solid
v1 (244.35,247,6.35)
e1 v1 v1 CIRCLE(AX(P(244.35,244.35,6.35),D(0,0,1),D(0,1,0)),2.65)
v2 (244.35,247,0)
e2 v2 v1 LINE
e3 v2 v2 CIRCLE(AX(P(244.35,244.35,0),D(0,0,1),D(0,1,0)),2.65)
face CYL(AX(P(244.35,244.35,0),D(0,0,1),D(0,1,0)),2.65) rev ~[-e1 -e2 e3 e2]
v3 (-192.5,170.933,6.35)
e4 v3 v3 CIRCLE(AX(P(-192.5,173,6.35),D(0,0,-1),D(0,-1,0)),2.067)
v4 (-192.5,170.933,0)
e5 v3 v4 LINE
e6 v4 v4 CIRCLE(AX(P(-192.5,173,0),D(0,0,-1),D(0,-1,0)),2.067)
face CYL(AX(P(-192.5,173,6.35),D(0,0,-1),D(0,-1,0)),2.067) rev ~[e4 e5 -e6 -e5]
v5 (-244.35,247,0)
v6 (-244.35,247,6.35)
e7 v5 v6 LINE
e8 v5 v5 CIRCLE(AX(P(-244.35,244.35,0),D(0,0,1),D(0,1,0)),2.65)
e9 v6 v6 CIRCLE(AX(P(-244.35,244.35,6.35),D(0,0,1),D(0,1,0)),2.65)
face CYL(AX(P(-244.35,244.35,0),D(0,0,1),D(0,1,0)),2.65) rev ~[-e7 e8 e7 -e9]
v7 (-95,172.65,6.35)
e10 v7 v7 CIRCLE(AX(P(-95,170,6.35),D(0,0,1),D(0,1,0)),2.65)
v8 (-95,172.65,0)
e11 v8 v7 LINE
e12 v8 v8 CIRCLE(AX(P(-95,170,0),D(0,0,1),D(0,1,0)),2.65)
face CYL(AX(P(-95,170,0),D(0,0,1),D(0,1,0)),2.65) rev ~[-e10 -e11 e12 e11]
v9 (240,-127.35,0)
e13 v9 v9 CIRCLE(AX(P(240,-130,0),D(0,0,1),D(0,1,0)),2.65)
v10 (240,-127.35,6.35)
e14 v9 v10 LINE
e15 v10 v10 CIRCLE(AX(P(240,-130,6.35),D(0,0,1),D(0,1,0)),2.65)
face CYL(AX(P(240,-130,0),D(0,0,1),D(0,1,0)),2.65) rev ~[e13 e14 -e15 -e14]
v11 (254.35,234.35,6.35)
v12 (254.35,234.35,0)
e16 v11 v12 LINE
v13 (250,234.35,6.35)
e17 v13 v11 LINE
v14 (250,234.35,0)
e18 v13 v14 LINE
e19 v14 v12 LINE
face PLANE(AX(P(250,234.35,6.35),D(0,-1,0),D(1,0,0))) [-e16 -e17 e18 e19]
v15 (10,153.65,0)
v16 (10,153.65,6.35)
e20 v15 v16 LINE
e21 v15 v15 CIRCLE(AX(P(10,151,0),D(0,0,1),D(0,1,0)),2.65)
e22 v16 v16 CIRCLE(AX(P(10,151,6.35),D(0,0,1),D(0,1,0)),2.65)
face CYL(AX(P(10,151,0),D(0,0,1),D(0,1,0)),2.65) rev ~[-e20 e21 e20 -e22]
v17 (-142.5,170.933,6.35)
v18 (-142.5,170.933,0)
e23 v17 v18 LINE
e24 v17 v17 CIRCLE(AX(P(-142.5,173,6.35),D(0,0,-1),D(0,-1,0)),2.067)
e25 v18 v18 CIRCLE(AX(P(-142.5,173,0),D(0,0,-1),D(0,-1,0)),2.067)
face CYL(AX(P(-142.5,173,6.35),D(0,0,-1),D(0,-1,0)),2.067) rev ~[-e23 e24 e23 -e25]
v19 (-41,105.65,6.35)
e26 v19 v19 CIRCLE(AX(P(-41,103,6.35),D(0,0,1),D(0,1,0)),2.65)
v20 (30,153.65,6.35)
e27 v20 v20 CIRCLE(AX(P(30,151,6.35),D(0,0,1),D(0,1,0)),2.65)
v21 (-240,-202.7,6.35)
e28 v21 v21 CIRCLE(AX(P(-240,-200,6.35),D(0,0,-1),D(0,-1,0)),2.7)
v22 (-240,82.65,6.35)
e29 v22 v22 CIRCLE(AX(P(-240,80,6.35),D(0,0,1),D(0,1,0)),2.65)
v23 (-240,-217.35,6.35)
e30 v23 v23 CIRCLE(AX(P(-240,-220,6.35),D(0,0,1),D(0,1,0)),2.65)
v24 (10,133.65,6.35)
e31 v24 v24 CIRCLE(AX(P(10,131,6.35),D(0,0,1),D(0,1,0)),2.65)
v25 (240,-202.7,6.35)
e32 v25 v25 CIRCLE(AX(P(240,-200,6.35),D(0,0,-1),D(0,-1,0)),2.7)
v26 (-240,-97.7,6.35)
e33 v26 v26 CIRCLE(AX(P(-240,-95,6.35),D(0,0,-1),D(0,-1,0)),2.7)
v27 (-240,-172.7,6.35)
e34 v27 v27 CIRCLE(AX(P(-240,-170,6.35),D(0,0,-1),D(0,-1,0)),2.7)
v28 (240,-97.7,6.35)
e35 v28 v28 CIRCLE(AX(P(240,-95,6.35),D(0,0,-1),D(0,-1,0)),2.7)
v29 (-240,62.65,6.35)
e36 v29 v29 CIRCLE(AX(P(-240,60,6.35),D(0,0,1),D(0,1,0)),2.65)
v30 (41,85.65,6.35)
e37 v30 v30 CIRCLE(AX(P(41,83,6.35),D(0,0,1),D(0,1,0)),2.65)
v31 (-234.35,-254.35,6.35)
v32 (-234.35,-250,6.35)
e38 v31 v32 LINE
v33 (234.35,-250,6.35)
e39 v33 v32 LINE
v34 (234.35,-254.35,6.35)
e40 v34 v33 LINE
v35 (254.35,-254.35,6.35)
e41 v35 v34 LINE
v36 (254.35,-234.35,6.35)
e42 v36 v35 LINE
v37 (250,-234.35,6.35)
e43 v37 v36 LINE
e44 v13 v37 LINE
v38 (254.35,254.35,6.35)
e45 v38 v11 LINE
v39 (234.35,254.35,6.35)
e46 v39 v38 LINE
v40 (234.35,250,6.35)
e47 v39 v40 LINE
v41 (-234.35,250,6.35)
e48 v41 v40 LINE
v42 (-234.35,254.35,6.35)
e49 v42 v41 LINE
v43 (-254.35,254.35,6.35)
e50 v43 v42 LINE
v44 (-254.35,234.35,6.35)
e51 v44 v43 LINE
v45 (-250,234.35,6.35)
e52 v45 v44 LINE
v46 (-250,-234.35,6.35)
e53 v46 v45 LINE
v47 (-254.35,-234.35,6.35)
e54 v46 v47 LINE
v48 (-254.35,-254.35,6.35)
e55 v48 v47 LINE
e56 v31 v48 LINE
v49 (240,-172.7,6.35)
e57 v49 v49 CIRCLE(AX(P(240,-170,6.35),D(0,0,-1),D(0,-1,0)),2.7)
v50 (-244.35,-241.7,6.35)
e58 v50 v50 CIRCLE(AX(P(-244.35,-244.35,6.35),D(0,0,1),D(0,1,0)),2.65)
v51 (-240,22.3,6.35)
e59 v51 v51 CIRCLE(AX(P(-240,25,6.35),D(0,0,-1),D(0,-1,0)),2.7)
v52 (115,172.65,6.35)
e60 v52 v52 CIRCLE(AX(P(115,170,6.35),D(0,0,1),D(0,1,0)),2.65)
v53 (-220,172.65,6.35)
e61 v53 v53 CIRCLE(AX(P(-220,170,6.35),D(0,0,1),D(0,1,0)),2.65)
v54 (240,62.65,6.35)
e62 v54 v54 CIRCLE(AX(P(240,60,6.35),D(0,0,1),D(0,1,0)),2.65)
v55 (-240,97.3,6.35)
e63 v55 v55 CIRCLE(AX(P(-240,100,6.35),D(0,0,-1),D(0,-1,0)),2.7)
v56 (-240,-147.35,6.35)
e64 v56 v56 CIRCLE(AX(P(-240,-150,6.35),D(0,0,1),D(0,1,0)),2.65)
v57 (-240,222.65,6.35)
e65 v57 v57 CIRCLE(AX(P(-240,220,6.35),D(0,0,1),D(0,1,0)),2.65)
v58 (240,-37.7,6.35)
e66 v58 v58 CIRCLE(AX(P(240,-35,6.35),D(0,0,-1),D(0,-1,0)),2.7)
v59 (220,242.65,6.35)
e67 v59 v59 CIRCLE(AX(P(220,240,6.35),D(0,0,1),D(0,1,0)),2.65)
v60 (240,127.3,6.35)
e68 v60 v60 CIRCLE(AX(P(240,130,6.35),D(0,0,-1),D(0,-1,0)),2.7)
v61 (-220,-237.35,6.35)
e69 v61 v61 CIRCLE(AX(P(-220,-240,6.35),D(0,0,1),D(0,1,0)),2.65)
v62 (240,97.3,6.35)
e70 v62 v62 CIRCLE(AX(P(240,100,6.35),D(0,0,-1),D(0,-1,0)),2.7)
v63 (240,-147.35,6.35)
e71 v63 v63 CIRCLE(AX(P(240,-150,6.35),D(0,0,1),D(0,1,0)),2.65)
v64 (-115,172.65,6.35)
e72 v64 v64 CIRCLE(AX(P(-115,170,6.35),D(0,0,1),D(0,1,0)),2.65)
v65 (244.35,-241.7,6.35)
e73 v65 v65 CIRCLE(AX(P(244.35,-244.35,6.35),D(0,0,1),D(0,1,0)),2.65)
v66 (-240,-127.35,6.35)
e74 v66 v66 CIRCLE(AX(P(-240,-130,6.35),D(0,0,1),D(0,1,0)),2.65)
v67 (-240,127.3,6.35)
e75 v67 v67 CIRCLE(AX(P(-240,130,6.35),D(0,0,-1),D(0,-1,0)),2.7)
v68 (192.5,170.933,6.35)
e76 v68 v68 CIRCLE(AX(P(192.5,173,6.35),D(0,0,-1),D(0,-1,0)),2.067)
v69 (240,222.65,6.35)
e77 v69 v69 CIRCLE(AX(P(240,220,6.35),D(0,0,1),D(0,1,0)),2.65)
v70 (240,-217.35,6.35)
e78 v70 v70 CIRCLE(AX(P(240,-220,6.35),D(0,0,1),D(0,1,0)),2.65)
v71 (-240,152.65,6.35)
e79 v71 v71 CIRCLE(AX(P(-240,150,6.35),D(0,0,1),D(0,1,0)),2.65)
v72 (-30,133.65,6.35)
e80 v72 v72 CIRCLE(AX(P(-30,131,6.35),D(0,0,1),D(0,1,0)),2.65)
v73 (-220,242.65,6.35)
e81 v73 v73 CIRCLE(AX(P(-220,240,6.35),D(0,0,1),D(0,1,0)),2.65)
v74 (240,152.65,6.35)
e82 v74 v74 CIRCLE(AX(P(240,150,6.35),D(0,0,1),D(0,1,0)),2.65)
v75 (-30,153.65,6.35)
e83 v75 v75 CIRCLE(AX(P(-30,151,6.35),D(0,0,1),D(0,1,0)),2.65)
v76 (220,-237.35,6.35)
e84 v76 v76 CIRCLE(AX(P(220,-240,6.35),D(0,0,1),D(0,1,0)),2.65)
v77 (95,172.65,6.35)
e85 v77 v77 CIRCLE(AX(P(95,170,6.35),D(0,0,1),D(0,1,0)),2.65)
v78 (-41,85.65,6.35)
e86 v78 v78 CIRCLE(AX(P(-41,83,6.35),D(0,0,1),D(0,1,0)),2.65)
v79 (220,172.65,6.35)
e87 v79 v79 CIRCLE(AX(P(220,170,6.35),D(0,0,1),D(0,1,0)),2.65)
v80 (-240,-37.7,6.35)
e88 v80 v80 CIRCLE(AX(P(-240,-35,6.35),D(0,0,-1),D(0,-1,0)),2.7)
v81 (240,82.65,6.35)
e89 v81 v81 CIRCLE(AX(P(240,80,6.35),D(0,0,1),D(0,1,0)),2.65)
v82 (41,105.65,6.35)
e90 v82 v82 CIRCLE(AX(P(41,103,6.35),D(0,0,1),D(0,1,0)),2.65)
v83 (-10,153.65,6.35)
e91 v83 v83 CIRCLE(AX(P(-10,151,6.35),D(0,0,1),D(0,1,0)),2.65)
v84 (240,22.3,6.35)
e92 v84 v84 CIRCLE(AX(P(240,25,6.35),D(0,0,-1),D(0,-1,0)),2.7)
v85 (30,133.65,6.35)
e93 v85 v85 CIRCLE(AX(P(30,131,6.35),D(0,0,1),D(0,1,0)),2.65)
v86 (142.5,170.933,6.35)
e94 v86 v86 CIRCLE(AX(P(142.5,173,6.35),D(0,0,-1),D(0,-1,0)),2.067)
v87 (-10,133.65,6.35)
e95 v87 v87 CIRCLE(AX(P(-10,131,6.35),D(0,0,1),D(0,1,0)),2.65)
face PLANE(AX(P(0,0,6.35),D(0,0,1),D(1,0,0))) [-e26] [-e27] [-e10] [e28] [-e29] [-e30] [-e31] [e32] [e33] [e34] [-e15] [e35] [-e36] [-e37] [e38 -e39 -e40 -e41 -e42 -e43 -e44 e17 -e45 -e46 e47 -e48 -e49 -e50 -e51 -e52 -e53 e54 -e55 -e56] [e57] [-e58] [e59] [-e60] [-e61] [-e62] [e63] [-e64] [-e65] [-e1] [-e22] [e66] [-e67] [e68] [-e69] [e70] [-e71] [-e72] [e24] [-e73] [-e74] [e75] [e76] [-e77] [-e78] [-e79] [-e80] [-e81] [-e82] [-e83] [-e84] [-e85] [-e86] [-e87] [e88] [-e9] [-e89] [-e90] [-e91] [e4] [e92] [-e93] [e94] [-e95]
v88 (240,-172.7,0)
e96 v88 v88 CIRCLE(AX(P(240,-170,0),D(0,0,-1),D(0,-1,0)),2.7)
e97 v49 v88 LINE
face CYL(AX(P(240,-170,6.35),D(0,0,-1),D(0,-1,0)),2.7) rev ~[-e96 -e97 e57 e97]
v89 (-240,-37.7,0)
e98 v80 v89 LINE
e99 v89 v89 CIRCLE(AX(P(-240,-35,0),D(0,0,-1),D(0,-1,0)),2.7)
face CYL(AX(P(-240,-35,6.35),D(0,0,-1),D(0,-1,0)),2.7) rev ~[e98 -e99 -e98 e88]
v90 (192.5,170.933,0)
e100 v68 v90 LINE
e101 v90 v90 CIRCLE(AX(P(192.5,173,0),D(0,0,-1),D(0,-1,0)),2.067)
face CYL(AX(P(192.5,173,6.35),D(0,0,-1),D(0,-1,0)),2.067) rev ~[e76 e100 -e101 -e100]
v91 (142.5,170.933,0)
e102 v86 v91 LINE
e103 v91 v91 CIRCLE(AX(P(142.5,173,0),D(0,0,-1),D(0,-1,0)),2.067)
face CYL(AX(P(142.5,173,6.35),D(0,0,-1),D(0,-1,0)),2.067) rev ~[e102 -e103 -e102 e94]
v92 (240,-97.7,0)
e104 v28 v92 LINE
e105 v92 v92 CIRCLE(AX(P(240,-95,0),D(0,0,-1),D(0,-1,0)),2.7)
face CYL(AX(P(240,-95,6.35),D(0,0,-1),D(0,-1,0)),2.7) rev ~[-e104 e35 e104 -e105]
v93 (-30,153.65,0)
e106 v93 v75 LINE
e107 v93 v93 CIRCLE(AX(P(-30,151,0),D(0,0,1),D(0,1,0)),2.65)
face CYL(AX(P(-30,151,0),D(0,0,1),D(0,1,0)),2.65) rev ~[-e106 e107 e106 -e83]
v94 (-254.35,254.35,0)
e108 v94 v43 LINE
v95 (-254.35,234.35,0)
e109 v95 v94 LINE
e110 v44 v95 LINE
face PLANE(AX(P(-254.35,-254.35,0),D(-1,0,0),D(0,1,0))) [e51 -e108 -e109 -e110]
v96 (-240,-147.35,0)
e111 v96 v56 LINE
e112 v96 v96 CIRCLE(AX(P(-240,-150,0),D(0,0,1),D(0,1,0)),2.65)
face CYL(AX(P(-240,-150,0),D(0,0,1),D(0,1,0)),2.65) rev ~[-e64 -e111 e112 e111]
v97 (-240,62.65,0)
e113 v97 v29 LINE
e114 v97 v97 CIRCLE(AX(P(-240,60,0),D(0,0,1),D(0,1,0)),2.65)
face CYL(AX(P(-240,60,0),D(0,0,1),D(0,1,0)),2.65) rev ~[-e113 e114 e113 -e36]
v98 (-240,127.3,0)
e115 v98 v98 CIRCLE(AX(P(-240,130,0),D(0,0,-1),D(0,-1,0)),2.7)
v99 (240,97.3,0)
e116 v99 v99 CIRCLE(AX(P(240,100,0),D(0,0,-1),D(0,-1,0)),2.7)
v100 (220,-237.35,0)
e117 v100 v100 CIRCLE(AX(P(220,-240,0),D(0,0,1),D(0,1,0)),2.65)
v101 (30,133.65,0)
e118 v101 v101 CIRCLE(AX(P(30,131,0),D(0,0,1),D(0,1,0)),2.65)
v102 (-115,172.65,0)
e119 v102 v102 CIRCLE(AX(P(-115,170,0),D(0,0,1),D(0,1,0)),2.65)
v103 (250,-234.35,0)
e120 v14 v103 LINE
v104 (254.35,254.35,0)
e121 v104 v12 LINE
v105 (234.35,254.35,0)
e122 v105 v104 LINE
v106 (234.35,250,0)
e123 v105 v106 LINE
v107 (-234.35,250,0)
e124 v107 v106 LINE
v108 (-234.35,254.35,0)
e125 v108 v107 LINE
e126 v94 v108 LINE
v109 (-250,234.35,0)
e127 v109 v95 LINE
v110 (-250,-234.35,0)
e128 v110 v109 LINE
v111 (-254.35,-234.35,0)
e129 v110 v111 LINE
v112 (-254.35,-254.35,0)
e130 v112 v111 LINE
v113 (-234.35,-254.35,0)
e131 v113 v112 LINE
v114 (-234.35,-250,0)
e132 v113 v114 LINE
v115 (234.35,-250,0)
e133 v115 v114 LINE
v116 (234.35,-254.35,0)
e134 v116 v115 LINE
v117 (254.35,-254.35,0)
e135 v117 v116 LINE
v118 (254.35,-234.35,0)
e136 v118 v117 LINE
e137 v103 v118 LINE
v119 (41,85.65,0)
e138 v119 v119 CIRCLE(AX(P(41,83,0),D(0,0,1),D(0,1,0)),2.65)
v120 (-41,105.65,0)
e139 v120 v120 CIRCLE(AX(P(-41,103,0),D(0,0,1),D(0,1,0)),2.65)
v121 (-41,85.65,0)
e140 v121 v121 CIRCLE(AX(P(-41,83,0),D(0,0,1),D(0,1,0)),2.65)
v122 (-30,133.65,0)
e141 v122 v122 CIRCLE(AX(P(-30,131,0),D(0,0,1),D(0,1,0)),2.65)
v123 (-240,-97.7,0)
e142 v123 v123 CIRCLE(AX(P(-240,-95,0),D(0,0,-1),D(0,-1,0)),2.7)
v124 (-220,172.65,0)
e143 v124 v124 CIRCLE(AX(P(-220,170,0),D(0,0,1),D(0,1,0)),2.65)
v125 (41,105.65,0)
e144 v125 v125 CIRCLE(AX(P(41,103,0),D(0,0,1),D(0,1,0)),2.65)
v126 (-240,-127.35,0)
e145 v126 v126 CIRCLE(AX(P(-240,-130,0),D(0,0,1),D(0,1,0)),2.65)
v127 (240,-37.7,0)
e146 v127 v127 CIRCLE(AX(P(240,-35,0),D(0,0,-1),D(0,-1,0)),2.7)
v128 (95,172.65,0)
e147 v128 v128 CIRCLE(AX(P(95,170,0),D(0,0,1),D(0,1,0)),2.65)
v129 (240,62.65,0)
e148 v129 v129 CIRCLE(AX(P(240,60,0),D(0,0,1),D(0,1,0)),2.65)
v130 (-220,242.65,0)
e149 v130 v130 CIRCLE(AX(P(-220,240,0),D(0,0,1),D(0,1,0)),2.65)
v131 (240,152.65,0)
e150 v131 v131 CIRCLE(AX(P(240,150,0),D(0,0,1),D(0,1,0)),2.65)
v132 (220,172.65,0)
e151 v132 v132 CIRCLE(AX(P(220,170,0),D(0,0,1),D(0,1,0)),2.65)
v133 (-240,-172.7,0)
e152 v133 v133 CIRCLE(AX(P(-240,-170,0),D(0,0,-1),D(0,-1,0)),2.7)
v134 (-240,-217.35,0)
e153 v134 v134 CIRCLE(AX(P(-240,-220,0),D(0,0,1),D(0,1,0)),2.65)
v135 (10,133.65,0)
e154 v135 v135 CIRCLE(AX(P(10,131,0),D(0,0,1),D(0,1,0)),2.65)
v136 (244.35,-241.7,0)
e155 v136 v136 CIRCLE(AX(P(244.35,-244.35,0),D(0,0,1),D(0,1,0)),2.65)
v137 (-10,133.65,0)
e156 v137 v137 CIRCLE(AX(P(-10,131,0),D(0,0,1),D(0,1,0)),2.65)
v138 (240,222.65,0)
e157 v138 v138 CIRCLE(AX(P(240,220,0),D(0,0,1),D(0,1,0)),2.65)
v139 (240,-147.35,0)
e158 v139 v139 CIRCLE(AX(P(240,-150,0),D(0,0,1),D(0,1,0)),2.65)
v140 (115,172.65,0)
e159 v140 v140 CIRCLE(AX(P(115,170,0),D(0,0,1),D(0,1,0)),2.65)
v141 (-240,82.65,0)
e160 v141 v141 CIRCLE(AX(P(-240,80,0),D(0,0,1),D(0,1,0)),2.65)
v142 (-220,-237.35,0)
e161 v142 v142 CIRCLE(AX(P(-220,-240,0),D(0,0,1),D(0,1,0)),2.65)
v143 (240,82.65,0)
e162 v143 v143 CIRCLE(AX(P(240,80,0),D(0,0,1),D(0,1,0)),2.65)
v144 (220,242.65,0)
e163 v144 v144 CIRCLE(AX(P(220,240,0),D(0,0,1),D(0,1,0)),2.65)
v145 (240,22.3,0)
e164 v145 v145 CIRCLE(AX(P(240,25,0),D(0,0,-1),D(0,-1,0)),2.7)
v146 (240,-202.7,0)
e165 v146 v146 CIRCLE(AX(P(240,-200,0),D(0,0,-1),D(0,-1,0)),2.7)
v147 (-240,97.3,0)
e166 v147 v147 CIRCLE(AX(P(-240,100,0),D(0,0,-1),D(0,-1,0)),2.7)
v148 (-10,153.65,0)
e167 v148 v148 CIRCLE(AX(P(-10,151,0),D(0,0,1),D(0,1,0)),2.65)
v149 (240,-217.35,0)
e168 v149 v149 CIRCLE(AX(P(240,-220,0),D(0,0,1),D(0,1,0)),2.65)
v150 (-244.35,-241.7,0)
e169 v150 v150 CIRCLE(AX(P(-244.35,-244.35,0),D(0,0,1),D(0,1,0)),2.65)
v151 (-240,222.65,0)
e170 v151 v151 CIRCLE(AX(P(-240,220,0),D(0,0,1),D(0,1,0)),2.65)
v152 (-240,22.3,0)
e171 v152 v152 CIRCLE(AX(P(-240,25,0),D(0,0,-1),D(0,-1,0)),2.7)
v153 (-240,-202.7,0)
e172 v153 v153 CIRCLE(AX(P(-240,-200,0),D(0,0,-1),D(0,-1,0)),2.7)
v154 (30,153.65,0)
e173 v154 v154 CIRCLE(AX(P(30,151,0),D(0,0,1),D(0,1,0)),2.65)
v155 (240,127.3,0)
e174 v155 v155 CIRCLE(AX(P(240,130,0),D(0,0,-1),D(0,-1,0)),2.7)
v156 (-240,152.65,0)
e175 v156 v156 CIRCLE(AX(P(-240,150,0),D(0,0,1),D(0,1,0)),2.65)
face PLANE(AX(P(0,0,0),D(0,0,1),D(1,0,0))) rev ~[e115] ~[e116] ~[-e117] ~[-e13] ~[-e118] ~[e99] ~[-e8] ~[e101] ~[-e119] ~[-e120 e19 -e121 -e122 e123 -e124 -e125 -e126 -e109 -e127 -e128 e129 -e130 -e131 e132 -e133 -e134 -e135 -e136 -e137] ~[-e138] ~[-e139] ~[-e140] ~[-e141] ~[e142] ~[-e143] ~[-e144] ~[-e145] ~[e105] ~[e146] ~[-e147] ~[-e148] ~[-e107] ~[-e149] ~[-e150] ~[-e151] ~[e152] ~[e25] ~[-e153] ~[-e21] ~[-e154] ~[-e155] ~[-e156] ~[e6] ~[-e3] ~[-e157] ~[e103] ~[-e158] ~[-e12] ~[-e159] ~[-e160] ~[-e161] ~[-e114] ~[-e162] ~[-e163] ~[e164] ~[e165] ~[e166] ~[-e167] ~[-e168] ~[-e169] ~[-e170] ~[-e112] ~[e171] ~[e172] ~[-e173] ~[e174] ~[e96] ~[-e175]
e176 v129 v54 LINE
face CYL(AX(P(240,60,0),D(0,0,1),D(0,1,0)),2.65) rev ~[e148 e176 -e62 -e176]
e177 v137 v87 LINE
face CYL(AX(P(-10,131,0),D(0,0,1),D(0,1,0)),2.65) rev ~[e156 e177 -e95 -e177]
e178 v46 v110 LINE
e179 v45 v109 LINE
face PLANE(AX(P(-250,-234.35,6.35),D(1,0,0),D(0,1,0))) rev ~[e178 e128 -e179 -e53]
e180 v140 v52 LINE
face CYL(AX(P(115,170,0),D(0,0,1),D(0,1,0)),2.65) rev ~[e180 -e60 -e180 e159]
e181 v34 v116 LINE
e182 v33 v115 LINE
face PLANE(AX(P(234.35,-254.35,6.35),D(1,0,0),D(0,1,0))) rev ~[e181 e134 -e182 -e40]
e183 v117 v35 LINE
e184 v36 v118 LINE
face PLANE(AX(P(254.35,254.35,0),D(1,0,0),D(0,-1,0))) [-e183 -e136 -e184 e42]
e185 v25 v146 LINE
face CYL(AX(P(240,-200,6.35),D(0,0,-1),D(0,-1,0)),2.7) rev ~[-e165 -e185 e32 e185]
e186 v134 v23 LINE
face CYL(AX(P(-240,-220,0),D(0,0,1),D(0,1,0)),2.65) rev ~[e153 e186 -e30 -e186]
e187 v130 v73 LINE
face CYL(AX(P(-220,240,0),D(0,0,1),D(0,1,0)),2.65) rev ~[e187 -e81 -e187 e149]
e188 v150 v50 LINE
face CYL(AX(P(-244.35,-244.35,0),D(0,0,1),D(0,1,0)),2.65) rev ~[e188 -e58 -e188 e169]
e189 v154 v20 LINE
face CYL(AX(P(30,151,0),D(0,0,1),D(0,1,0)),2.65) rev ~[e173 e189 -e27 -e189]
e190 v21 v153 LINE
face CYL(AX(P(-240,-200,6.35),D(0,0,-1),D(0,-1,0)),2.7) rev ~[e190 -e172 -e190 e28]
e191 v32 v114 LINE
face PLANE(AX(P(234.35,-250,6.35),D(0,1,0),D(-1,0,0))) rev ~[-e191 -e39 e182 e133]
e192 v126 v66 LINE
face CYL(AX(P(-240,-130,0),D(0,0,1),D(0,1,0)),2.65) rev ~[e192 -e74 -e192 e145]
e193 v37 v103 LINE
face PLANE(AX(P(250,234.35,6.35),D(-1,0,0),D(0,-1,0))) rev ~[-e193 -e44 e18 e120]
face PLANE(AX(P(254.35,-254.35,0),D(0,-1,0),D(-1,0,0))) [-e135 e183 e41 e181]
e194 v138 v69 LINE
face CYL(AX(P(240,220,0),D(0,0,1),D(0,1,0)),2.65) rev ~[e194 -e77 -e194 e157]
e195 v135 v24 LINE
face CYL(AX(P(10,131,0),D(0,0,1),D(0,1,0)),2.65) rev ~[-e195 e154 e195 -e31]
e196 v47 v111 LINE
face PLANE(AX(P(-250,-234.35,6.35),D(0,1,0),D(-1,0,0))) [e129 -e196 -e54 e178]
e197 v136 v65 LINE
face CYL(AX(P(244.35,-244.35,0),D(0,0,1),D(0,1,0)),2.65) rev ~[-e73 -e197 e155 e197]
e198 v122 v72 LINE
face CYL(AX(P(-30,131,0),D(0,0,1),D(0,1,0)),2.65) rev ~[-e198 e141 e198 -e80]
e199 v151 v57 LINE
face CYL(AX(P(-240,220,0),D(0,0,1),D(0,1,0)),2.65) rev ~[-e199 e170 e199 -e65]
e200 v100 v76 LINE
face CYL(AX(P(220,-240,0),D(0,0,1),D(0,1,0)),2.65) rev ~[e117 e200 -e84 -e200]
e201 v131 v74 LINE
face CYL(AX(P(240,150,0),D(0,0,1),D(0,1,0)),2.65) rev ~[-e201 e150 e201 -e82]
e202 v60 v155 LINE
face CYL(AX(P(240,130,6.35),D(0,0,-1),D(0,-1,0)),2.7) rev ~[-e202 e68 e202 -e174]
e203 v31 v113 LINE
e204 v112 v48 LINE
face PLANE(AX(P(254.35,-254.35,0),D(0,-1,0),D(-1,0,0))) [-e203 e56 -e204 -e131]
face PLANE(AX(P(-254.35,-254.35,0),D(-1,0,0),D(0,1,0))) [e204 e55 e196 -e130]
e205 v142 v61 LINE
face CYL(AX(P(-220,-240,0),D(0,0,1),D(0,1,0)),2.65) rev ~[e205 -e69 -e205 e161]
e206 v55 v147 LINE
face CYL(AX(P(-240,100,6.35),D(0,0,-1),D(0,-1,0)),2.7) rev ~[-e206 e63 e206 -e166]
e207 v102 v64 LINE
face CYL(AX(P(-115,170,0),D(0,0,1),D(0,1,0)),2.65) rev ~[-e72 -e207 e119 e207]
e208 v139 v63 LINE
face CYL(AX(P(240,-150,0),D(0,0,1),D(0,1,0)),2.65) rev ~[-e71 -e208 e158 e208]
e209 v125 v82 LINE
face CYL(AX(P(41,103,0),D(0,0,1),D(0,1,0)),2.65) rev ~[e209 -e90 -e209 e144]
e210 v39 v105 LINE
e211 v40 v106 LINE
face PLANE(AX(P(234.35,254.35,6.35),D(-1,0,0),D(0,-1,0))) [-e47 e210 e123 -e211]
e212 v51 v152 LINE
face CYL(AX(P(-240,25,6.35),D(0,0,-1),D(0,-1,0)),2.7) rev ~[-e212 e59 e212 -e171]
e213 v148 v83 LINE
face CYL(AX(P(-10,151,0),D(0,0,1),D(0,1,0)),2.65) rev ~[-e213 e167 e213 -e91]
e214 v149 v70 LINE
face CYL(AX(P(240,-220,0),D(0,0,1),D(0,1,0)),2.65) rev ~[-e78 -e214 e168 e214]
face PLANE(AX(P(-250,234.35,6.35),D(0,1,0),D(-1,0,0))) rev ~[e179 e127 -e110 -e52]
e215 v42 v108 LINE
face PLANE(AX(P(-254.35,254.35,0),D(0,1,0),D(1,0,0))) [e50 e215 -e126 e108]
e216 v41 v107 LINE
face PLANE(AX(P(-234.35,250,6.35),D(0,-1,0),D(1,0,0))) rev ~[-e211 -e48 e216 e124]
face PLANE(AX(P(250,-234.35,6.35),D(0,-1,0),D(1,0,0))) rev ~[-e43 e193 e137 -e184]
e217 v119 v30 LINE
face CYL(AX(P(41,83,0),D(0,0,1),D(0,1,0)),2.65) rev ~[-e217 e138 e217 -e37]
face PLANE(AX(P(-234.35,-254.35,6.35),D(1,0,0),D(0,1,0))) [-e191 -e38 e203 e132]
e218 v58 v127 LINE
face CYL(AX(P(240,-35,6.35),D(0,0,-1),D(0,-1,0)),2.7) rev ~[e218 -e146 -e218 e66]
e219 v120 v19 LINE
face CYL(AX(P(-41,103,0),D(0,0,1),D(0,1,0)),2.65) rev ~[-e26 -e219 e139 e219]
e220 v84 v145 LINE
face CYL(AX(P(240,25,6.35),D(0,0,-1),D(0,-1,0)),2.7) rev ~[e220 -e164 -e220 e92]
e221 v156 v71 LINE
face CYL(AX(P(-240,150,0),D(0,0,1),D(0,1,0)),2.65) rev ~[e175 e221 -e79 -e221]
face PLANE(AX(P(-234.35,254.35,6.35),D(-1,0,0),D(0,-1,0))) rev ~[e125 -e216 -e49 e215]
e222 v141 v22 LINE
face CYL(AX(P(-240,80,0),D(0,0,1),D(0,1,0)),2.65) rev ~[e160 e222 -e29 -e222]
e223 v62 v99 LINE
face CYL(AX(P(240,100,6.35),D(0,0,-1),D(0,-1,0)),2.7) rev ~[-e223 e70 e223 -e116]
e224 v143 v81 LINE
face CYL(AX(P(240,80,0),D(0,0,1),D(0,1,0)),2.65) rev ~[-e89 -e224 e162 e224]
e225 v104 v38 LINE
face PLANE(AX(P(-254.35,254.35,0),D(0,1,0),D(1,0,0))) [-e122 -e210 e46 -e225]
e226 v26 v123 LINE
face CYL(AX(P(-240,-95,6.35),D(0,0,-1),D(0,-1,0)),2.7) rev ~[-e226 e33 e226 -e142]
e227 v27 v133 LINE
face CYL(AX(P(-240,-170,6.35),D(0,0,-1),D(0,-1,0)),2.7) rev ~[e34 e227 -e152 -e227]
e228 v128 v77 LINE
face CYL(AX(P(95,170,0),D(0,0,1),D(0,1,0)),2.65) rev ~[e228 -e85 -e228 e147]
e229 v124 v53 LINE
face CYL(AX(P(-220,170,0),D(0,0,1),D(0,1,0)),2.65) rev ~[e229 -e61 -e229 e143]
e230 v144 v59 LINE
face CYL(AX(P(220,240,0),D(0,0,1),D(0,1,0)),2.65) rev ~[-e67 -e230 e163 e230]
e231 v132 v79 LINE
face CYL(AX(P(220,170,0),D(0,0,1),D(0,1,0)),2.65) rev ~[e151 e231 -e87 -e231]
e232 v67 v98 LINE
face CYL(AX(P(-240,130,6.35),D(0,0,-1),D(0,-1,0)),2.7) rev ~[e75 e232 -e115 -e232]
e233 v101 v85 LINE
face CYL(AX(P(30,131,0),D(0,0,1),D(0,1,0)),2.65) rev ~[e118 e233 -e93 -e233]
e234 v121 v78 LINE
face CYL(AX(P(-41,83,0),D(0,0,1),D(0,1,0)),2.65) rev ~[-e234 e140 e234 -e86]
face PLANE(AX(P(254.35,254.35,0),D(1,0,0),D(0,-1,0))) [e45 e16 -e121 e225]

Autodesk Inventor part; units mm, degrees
ref_plane "YZ Plane" through (0, 0, 0) normal (1, 0, 0) x (0, 1, 0)
ref_plane "XZ Plane" through (0, 0, 0) normal (0, 1, 0) x (-1, 0, 0)
ref_plane "XY Plane" through (0, 0, 0) normal (0, 0, 1) x (1, 0, 0)
sketch "Sketch1" plane through (0, 0, 0) normal (0, 0, 1) x (1, 0, 0)
  line L0 (254.35, -254.35) -> (-254.35, -254.35)
  line L1 (-254.35, -254.35) -> (-254.35, 254.35)
  line L2 (-254.35, 254.35) -> (254.35, 254.35)
  line L3 (254.35, 254.35) -> (254.35, -254.35)
  line L4 (254.35, -254.35) -> (-254.35, 254.35) construction
  line L5 (-254.35, -254.35) -> (254.35, 254.35) construction
  line L6 (-254.35, -254.35) -> (-234.35, -254.35) construction
  line L7 (-234.35, -254.35) -> (-234.35, -234.35) construction
  line L8 (-234.35, -234.35) -> (-254.35, -234.35) construction
  line L9 (-254.35, -234.35) -> (-254.35, -254.35) construction
  line L10 (-210, -250) -> (-250, -250) construction
  line L11 (-250, -250) -> (-250, -210) construction
  line L12 (-250, -210) -> (-210, -210) construction
  line L13 (-210, -210) -> (-210, -250) construction
  line L14 (-210, -250) -> (-250, -210) construction
  line L15 (-250, -250) -> (-210, -210) construction
  line L16 (-220, -240) -> (-240, -240) construction
  line L17 (-240, -240) -> (-240, -220) construction
  line L18 (-240, -220) -> (-220, -220) construction
  line L19 (-220, -220) -> (-220, -240) construction
  line L20 (-220, -240) -> (-240, -220) construction
  line L21 (-240, -240) -> (-220, -220) construction
  line L22 (254.35, -254.35) -> (234.35, -254.35) construction
  line L23 (234.35, -254.35) -> (234.35, -234.35) construction
  line L24 (234.35, -234.35) -> (254.35, -234.35) construction
  line L25 (254.35, -234.35) -> (254.35, -254.35) construction
  line L26 (210, -210) -> (250, -210) construction
  line L27 (250, -210) -> (250, -250) construction
  line L28 (250, -250) -> (210, -250) construction
  line L29 (210, -250) -> (210, -210) construction
  line L30 (210, -210) -> (250, -250) construction
  line L31 (250, -210) -> (210, -250) construction
  line L32 (240, -240) -> (220, -240) construction
  line L33 (220, -240) -> (220, -220) construction
  line L34 (220, -220) -> (240, -220) construction
  line L35 (240, -220) -> (240, -240) construction
  line L36 (240, -240) -> (220, -220) construction
  line L37 (220, -240) -> (240, -220) construction
  line L38 (-254.35, 254.35) -> (-234.35, 254.35) construction
  line L39 (-234.35, 254.35) -> (-234.35, 234.35) construction
  line L40 (-234.35, 234.35) -> (-254.35, 234.35) construction
  line L41 (-254.35, 234.35) -> (-254.35, 254.35) construction
  line L42 (254.35, 254.35) -> (234.35, 254.35) construction
  line L43 (234.35, 254.35) -> (234.35, 234.35) construction
  line L44 (234.35, 234.35) -> (254.35, 234.35) construction
  line L45 (254.35, 234.35) -> (254.35, 254.35) construction
  line L46 (210, 210) -> (250, 210) construction
  line L47 (250, 210) -> (250, 250) construction
  line L48 (250, 250) -> (210, 250) construction
  line L49 (210, 250) -> (210, 210) construction
  line L50 (210, 210) -> (250, 250) construction
  line L51 (250, 210) -> (210, 250) construction
  line L52 (240, 220) -> (220, 220) construction
  line L53 (220, 220) -> (220, 240) construction
  line L54 (220, 240) -> (240, 240) construction
  line L55 (240, 240) -> (240, 220) construction
  line L56 (240, 220) -> (220, 240) construction
  line L57 (220, 220) -> (240, 240) construction
  line L58 (-210, 210) -> (-250, 210) construction
  line L59 (-250, 210) -> (-250, 250) construction
  line L60 (-250, 250) -> (-210, 250) construction
  line L61 (-210, 250) -> (-210, 210) construction
  line L62 (-210, 210) -> (-250, 250) construction
  line L63 (-250, 210) -> (-210, 250) construction
  line L64 (-240, 220) -> (-220, 220) construction
  line L65 (-220, 220) -> (-220, 240) construction
  line L66 (-220, 240) -> (-240, 240) construction
  line L67 (-240, 240) -> (-240, 220) construction
  line L68 (-240, 220) -> (-220, 240) construction
  line L69 (-220, 220) -> (-240, 240) construction
  line L70 (250, 140) -> (210, 140) construction
  line L71 (210, 140) -> (210, 180) construction
  line L72 (210, 180) -> (250, 180) construction
  line L73 (250, 180) -> (250, 140) construction
  line L74 (250, 140) -> (210, 180) construction
  line L75 (210, 140) -> (250, 180) construction
  line L76 (240, 150) -> (220, 150) construction
  line L77 (220, 150) -> (220, 170) construction
  line L78 (220, 170) -> (240, 170) construction
  line L79 (240, 170) -> (240, 150) construction
  line L80 (240, 150) -> (220, 170) construction
  line L81 (220, 150) -> (240, 170) construction
  line L82 (-40, 161) -> (40, 161) construction
  line L83 (40, 161) -> (40, 121) construction
  line L84 (40, 121) -> (-40, 121) construction
  line L85 (-40, 121) -> (-40, 161) construction
  line L86 (-40, 161) -> (40, 121) construction
  line L87 (40, 161) -> (-40, 121) construction
  line L88 (30, 131) -> (-30, 131) construction
  line L89 (-30, 131) -> (-30, 151) construction
  line L90 (-30, 151) -> (30, 151) construction
  line L91 (30, 151) -> (30, 131) construction
  line L92 (30, 131) -> (-30, 151) construction
  line L93 (-30, 131) -> (30, 151) construction
  line L94 (10, 131) -> (-10, 131) construction
  line L95 (-10, 131) -> (-10, 151) construction
  line L96 (-10, 151) -> (10, 151) construction
  line L97 (10, 151) -> (10, 131) construction
  line L98 (10, 131) -> (-10, 151) construction
  line L99 (-10, 131) -> (10, 151) construction
  line L100 (125, 160) -> (85, 160) construction
  line L101 (85, 160) -> (85, 180) construction
  line L102 (85, 180) -> (125, 180) construction
  line L103 (125, 180) -> (125, 160) construction
  line L104 (125, 160) -> (85, 180) construction
  line L105 (85, 160) -> (125, 180) construction
  line L106 (95, 170) -> (115, 170) construction
  line L107 (-210, 140) -> (-250, 140) construction
  line L108 (-250, 140) -> (-250, 180) construction
  line L109 (-250, 180) -> (-210, 180) construction
  line L110 (-210, 180) -> (-210, 140) construction
  line L111 (-210, 140) -> (-250, 180) construction
  line L112 (-250, 140) -> (-210, 180) construction
  line L113 (-240, 150) -> (-220, 150) construction
  line L114 (-220, 150) -> (-220, 170) construction
  line L115 (-220, 170) -> (-240, 170) construction
  line L116 (-240, 170) -> (-240, 150) construction
  line L117 (-240, 150) -> (-220, 170) construction
  line L118 (-220, 150) -> (-240, 170) construction
  line L119 (-85, 160) -> (-125, 160) construction
  line L120 (-125, 160) -> (-125, 180) construction
  line L121 (-125, 180) -> (-85, 180) construction
  line L122 (-85, 180) -> (-85, 160) construction
  line L123 (-85, 160) -> (-125, 180) construction
  line L124 (-125, 160) -> (-85, 180) construction
  line L125 (-115, 170) -> (-95, 170) construction
  line L126 (-230, 50) -> (-250, 50) construction
  line L127 (-250, 50) -> (-250, 90) construction
  line L128 (-250, 90) -> (-230, 90) construction
  line L129 (-230, 90) -> (-230, 50) construction
  line L130 (-230, 50) -> (-250, 90) construction
  line L131 (-250, 50) -> (-230, 90) construction
  line L132 (-240, 60) -> (-240, 80) construction
  line L133 (250, 50) -> (230, 50) construction
  line L134 (230, 50) -> (230, 90) construction
  line L135 (230, 90) -> (250, 90) construction
  line L136 (250, 90) -> (250, 50) construction
  line L137 (250, 50) -> (230, 90) construction
  line L138 (230, 50) -> (250, 90) construction
  line L139 (240, 80) -> (240, 60) construction
  line L140 (-254.35, -234.35) -> (-234.35, -254.35) construction
  line L141 (254.35, -234.35) -> (234.35, -254.35) construction
  line L142 (234.35, 254.35) -> (254.35, 234.35) construction
  line L143 (-254.35, 234.35) -> (-234.35, 254.35) construction
  line L144 (-230, -160) -> (-250, -160) construction
  line L145 (-250, -160) -> (-250, -120) construction
  line L146 (-250, -120) -> (-230, -120) construction
  line L147 (-230, -120) -> (-230, -160) construction
  line L148 (-230, -160) -> (-250, -120) construction
  line L149 (-250, -160) -> (-230, -120) construction
  line L150 (-240, -130) -> (-240, -150) construction
  line L151 (250, -160) -> (230, -160) construction
  line L152 (230, -160) -> (230, -120) construction
  line L153 (230, -120) -> (250, -120) construction
  line L154 (250, -120) -> (250, -160) construction
  line L155 (250, -160) -> (230, -120) construction
  line L156 (230, -160) -> (250, -120) construction
  line L157 (240, -130) -> (240, -150) construction
  line L158 (-230, 50) -> (-230, -120) construction
  point P0 (0, 0)
  point P1 (-230, -230)
  point P2 (230, -230)
  point P3 (230, 230)
  point P4 (-230, 230)
  point P5 (230, 160)
  point P6 (0, 141)
  point P7 (85, 170)
  point P8 (105, 170)
  point P9 (-230, 160)
  point P10 (-105, 170)
  point P11 (-240, 70)
  point P12 (240, 70)
  point P13 (-244.35, 244.35)
  point P14 (244.35, 244.35)
  point P15 (244.35, -244.35)
  point P16 (-244.35, -244.35)
  point P17 (-240, -140)
  point P18 (240, -140)
  point P19 (-240, -120)
  point P20 (-240, 50)
  point P21 (-230, -35)
  point P22 (0, 121)
  dimension "d0" = 508.7
  dimension "d1" = 508.7
  dimension "d2" = 20
  dimension "d3" = 20
  dimension "d4" = 40
  dimension "d5" = 40
  dimension "d6" = 4.35
  dimension "d7" = 4.35
  dimension "d8" = 20
  dimension "d9" = 20
  dimension "d10" = 4.35
  dimension "d11" = 4.35
  dimension "d12" = 4.35
  dimension "d13" = 4.35
  dimension "d14" = 4.35
  dimension "d15" = 4.35
  dimension "d16" = 4.35
  dimension "d17" = 70
  dimension "d18" = 80
  dimension "d19" = 40
  dimension "d20" = 60
  dimension "d21" = 20
  dimension "d22" = 20
  dimension "d23" = 20
  dimension "d24" = 40
  dimension "d25" = 20
  dimension "d28" = 20
  dimension "d30" = 20
  dimension "d33" = 50
  dimension "d59" = 50
  dimension "d84" = 1
  dimension "d100" = 50
  dimension "d101" = 50
  dimension "d102" = 170
  dimension "d103" = 45
  dimension "d104" = 45
  dimension "d105" = 170
  dimension "d139" = 219.35
  dimension "d140" = 156
extrude "Extrusion1" add sketch "Sketch1" along normal blind 6.35
hole "Hole1" at (-240, -220, 0) at (-220, -240, 0) at (220, -240, 0) at (240, -220, 0) at (220, 240, 0) at (240, 220, 0) at (-240, 220, 0) at (-220, 240, 0) at (220, 170, 0) at (240, 150, 0) at (-30, 151, 0) at (-30, 131, 0) at (-10, 151, 0) at (-10, 131, 0) at (10, 151, 0) at (10, 131, 0) at (30, 151, 0) at (30, 131, 0) at (95, 170, 0) at (115, 170, 0) at (-220, 170, 0) at (-240, 150, 0) at (-115, 170, 0) at (-95, 170, 0) at (-240, 80, 0) at (-240, 60, 0) at (240, 80, 0) at (240, 60, 0) at (-244.35, 244.35, 0) at (244.35, 244.35, 0) at (244.35, -244.35, 0) at (-244.35, -244.35, 0) at (-240, -130, 0) at (-240, -150, 0) at (240, -130, 0) at (240, -150, 0) direction (0, 0, 1) diameter 5.3 end through all
sketch "Sketch3" plane through (0, 0, 0) normal (0, 0, -1) x (-1, 0, 0)
  line L0 (41, 83) -> (-41, 83) construction
  line L1 (-41, 83) -> (-41, 103) construction
  line L2 (-41, 103) -> (41, 103) construction
  line L3 (41, 103) -> (41, 83) construction
  line L4 (41, 83) -> (-41, 103) construction
  line L5 (-41, 83) -> (41, 103) construction
  line L6 (27, 66) -> (-27, 66) construction
  line L7 (-27, 66) -> (-27, 120) construction
  line L8 (-27, 120) -> (27, 120) construction
  line L9 (27, 120) -> (27, 66) construction
  line L10 (27, 66) -> (-27, 120) construction
  line L11 (-27, 66) -> (27, 120) construction
  line L12 (-40, 121) -> (40, 121) construction
  point P0 (0, 0)
  point P1 (0, 93)
  point P2 (0, 121)
  dimension "d43" = 82
  dimension "d44" = 20
  dimension "d45" = 54
  dimension "d46" = 54
  dimension "d47" = 1
  dimension "d48" = 28
hole "Hole2" at (41, 103, 0) at (41, 83, 0) at (-41, 103, 0) at (-41, 83, 0) direction (0, 0, 1) diameter 5.3 end through all
sketch "Sketch4" plane through (0, 0, 6.35) normal (0, 0, 1) x (1, 0, 0)
  line L0 (235, -224.35) -> (-235, -224.35) construction
  line L1 (-235, -224.35) -> (-235, 10.65) construction
  line L2 (-235, 10.65) -> (235, 10.65) construction
  line L3 (235, 10.65) -> (235, -224.35) construction
  line L4 (235, -224.35) -> (-235, 10.65) construction
  line L5 (-235, -224.35) -> (235, 10.65) construction
  circle A0 centre (-41, 83) radius 2.65 construction
  circle A1 centre (-41, 103) radius 2.65 construction
  circle A2 centre (41, 83) radius 2.65 construction
  circle A3 centre (41, 103) radius 2.65 construction
  circle A4 centre (-244.35, -244.35) radius 2.65 construction
  circle A5 centre (244.35, -244.35) radius 2.65 construction
  circle A6 centre (244.35, 244.35) radius 2.65 construction
  circle A7 centre (-244.35, 244.35) radius 2.65 construction
  circle A8 centre (240, 60) radius 2.65 construction
  circle A9 centre (240, 80) radius 2.65 construction
  circle A10 centre (-240, 60) radius 2.65 construction
  circle A11 centre (-240, 80) radius 2.65 construction
  circle A12 centre (-95, 170) radius 2.65 construction
  circle A13 centre (-115, 170) radius 2.65 construction
  circle A14 centre (-240, 150) radius 2.65 construction
  circle A15 centre (-220, 170) radius 2.65 construction
  circle A16 centre (115, 170) radius 2.65 construction
  circle A17 centre (95, 170) radius 2.65 construction
  circle A18 centre (30, 131) radius 2.65 construction
  circle A19 centre (30, 151) radius 2.65 construction
  circle A20 centre (10, 131) radius 2.65 construction
  circle A21 centre (10, 151) radius 2.65 construction
  circle A22 centre (-10, 131) radius 2.65 construction
  circle A23 centre (-10, 151) radius 2.65 construction
  circle A24 centre (-30, 131) radius 2.65 construction
  circle A25 centre (-30, 151) radius 2.65 construction
  circle A26 centre (240, 150) radius 2.65 construction
  circle A27 centre (220, 170) radius 2.65 construction
  circle A28 centre (-220, 240) radius 2.65 construction
  circle A29 centre (-240, 220) radius 2.65 construction
  circle A30 centre (240, 220) radius 2.65 construction
  circle A31 centre (220, 240) radius 2.65 construction
  circle A32 centre (240, -220) radius 2.65 construction
  circle A33 centre (220, -240) radius 2.65 construction
  circle A34 centre (-220, -240) radius 2.65 construction
  circle A35 centre (-240, -220) radius 2.65 construction
  line L6 (254.35, 254.35) -> (-254.35, 254.35) construction
  line L7 (-254.35, 254.35) -> (-254.35, -254.35) construction
  line L8 (-254.35, -254.35) -> (254.35, -254.35) construction
  line L9 (254.35, -254.35) -> (254.35, 254.35) construction
  circle A36 centre (-117.5, -106.85) radius 117.5 construction
  circle A37 centre (117.5, -106.85) radius 117.5 construction
  circle A38 centre (-117.5, -106.85) radius 21.75 construction
  circle A39 centre (117.5, -106.85) radius 21.75 construction
  line L10 (-117.5, -85.1) -> (-98.6639, -95.975) construction
  line L11 (-98.6639, -95.975) -> (-98.6639, -117.725) construction
  line L12 (-98.6639, -117.725) -> (-117.5, -128.6) construction
  line L13 (-117.5, -128.6) -> (-136.3361, -117.725) construction
  line L14 (-136.3361, -117.725) -> (-136.3361, -95.975) construction
  line L15 (-136.3361, -95.975) -> (-117.5, -85.1) construction
  line L16 (117.5, -85.1) -> (136.3361, -95.975) construction
  line L17 (136.3361, -95.975) -> (136.3361, -117.725) construction
  line L18 (136.3361, -117.725) -> (117.5, -128.6) construction
  line L19 (117.5, -128.6) -> (98.6639, -117.725) construction
  line L20 (98.6639, -117.725) -> (98.6639, -95.975) construction
  line L21 (98.6639, -95.975) -> (117.5, -85.1) construction
  point P0 (0, 0)
  point P1 (0, -106.85)
  point P2 (0, 10.65)
  dimension "d66" = 43.5
  dimension "d67" = 43.5
  dimension "d60" = 30
  dimension "d63" = 235
  dimension "d65" = 470
hole "Hole3" [suppressed]
sketch "Sketch5" plane through (0, 0, 6.35) normal (0, 0, 1) x (1, 0, 0)
  circle A0 centre (-41, 83) radius 2.65 projected
  circle A1 centre (-41, 103) radius 2.65 projected
  circle A2 centre (41, 83) radius 2.65 projected
  circle A3 centre (41, 103) radius 2.65 projected
  circle A4 centre (-244.35, -244.35) radius 2.65 projected
  circle A5 centre (244.35, -244.35) radius 2.65 projected
  circle A6 centre (244.35, 244.35) radius 2.65 projected
  circle A7 centre (-244.35, 244.35) radius 2.65 projected
  circle A8 centre (240, 60) radius 2.65 projected
  circle A9 centre (240, 80) radius 2.65 projected
  circle A10 centre (-240, 60) radius 2.65 projected
  circle A11 centre (-240, 80) radius 2.65 projected
  circle A12 centre (-95, 170) radius 2.65 projected
  circle A13 centre (-115, 170) radius 2.65 projected
  circle A14 centre (-240, 150) radius 2.65 projected
  circle A15 centre (-220, 170) radius 2.65 projected
  circle A16 centre (115, 170) radius 2.65 projected
  circle A17 centre (95, 170) radius 2.65 projected
  circle A18 centre (30, 131) radius 2.65 projected
  circle A19 centre (30, 151) radius 2.65 projected
  circle A20 centre (10, 131) radius 2.65 projected
  circle A21 centre (10, 151) radius 2.65 projected
  circle A22 centre (-10, 131) radius 2.65 projected
  circle A23 centre (-10, 151) radius 2.65 projected
  circle A24 centre (-30, 131) radius 2.65 projected
  circle A25 centre (-30, 151) radius 2.65 projected
  circle A26 centre (240, 150) radius 2.65 projected
  circle A27 centre (220, 170) radius 2.65 projected
  circle A28 centre (-220, 240) radius 2.65 projected
  circle A29 centre (-240, 220) radius 2.65 projected
  circle A30 centre (240, 220) radius 2.65 projected
  circle A31 centre (220, 240) radius 2.65 projected
  circle A32 centre (240, -220) radius 2.65 projected
  circle A33 centre (220, -240) radius 2.65 projected
  circle A34 centre (-220, -240) radius 2.65 projected
  circle A35 centre (-240, -220) radius 2.65 projected
  line L0 (254.35, 254.35) -> (-254.35, 254.35) projected
  line L1 (-254.35, 254.35) -> (-254.35, -254.35) projected
  line L2 (-254.35, -254.35) -> (254.35, -254.35) projected
  line L3 (254.35, -254.35) -> (254.35, 254.35) projected
  line L4 (-220, 170) -> (-115, 170) construction
  line L5 (115, 170) -> (220, 170) construction
  line L6 (142.5, 173) -> (192.5, 173) construction
  line L7 (-192.5, 173) -> (-142.5, 173) construction
  point P0 (0, 0)
  point P1 (167.5, 173)
  point P2 (167.5, 170)
  point P3 (-167.5, 173)
  point P4 (-167.5, 170)
  dimension "d75" = 50
  dimension "d76" = 3
hole "Hole4" at (142.5, 173, 6.35) at (192.5, 173, 6.35) at (-192.5, 173, 6.35) at (-142.5, 173, 6.35) direction (0, 0, -1) diameter 4.134 end through all thread size "M5x0.8" class "6H" standard "ANSI Metric M Profile"
sketch "Sketch6" plane through (0, 0, 6.35) normal (0, 0, 1) x (1, 0, 0)
  line L0 (-219.5, -171.85) -> (-231.5, -171.85) construction
  line L1 (-231.5, -171.85) -> (-231.5, -41.85) construction
  line L2 (-231.5, -41.85) -> (-219.5, -41.85) construction
  line L3 (-219.5, -41.85) -> (-219.5, -171.85) construction
  line L4 (-219.5, -171.85) -> (-231.5, -41.85) construction
  line L5 (-231.5, -171.85) -> (-219.5, -41.85) construction
  circle A0 centre (-117.5, -106.85) radius 116 construction
  point P0 (0, 0)
  point P1 (-225.5, -106.85)
  point P2 (-219.5, -106.85)
  point P3 (-97.5, -221.1129)
  dimension "d88" = 232
  dimension "d85" = 12
  dimension "d86" = 130
  dimension "d87" = 102
  dimension "d89" = 20
hole "Hole5" [suppressed]
mirror "Mirror1" [suppressed]
sketch "Sketch7" plane through (0, 0, 6.35) normal (0, 0, 1) x (1, 0, 0)
  circle A0 centre (-142.5, 173) radius 2.067 projected
  circle A1 centre (-192.5, 173) radius 2.067 projected
  circle A2 centre (192.5, 173) radius 2.067 projected
  circle A3 centre (142.5, 173) radius 2.067 projected
  circle A4 centre (-41, 83) radius 2.65 projected
  circle A5 centre (-41, 103) radius 2.65 projected
  circle A6 centre (41, 83) radius 2.65 projected
  circle A7 centre (41, 103) radius 2.65 projected
  circle A8 centre (240, -150) radius 2.65 projected
  circle A9 centre (240, -130) radius 2.65 projected
  circle A10 centre (-240, -150) radius 2.65 projected
  circle A11 centre (-240, -130) radius 2.65 projected
  circle A12 centre (-244.35, -244.35) radius 2.65 projected
  circle A13 centre (244.35, -244.35) radius 2.65 projected
  circle A14 centre (244.35, 244.35) radius 2.65 projected
  circle A15 centre (-244.35, 244.35) radius 2.65 projected
  circle A16 centre (240, 60) radius 2.65 projected
  circle A17 centre (240, 80) radius 2.65 projected
  circle A18 centre (-240, 60) radius 2.65 projected
  circle A19 centre (-240, 80) radius 2.65 projected
  circle A20 centre (-95, 170) radius 2.65 projected
  circle A21 centre (-115, 170) radius 2.65 projected
  circle A22 centre (-240, 150) radius 2.65 projected
  circle A23 centre (-220, 170) radius 2.65 projected
  circle A24 centre (115, 170) radius 2.65 projected
  circle A25 centre (95, 170) radius 2.65 projected
  circle A26 centre (30, 131) radius 2.65 projected
  circle A27 centre (30, 151) radius 2.65 projected
  circle A28 centre (10, 131) radius 2.65 projected
  circle A29 centre (10, 151) radius 2.65 projected
  circle A30 centre (-10, 131) radius 2.65 projected
  circle A31 centre (-10, 151) radius 2.65 projected
  circle A32 centre (-30, 131) radius 2.65 projected
  circle A33 centre (-30, 151) radius 2.65 projected
  circle A34 centre (240, 150) radius 2.65 projected
  circle A35 centre (220, 170) radius 2.65 projected
  circle A36 centre (-220, 240) radius 2.65 projected
  circle A37 centre (-240, 220) radius 2.65 projected
  circle A38 centre (240, 220) radius 2.65 projected
  circle A39 centre (220, 240) radius 2.65 projected
  circle A40 centre (240, -220) radius 2.65 projected
  circle A41 centre (220, -240) radius 2.65 projected
  circle A42 centre (-220, -240) radius 2.65 projected
  circle A43 centre (-240, -220) radius 2.65 projected
  line L0 (254.35, 254.35) -> (-254.35, 254.35) projected
  line L1 (-254.35, 254.35) -> (-254.35, -254.35) projected
  line L2 (-254.35, -254.35) -> (254.35, -254.35) projected
  line L3 (254.35, -254.35) -> (254.35, 254.35) projected
  line L4 (-240, 150) -> (-240, 80) construction
  line L5 (-240, 130) -> (-240, 100) construction
  line L6 (-240, -150) -> (-240, -220) construction
  line L7 (-240, -170) -> (-240, -200) construction
  line L8 (240, -150) -> (240, -220) construction
  line L9 (240, -170) -> (240, -200) construction
  line L10 (240, 150) -> (240, 80) construction
  line L11 (240, 130) -> (240, 100) construction
  point P0 (0, 0)
  point P1 (-240, 115)
  point P2 (-240, -185)
  point P3 (240, -185)
  point P4 (240, 115)
  dimension "d106" = 30
  dimension "d107" = 30
  dimension "d108" = 30
  dimension "d109" = 30
hole "Hole6" at (-240, 130, 6.35) at (-240, 100, 6.35) at (-240, -170, 6.35) at (-240, -200, 6.35) at (240, -170, 6.35) at (240, -200, 6.35) at (240, 130, 6.35) at (240, 100, 6.35) direction (0, 0, -1) diameter 5.4 end through all
sketch "Sketch8" plane through (0, 0, 6.35) normal (0, 0, 1) x (1, 0, 0)
  circle A0 centre (240, 100) radius 2.7 projected
  circle A1 centre (240, 130) radius 2.7 projected
  circle A2 centre (240, -200) radius 2.7 projected
  circle A3 centre (240, -170) radius 2.7 projected
  circle A4 centre (-240, -200) radius 2.7 projected
  circle A5 centre (-240, -170) radius 2.7 projected
  circle A6 centre (-240, 100) radius 2.7 projected
  circle A7 centre (-240, 130) radius 2.7 projected
  circle A8 centre (-142.5, 173) radius 2.067 projected
  circle A9 centre (-192.5, 173) radius 2.067 projected
  circle A10 centre (192.5, 173) radius 2.067 projected
  circle A11 centre (142.5, 173) radius 2.067 projected
  circle A12 centre (-41, 83) radius 2.65 projected
  circle A13 centre (-41, 103) radius 2.65 projected
  circle A14 centre (41, 83) radius 2.65 projected
  circle A15 centre (41, 103) radius 2.65 projected
  circle A16 centre (240, -150) radius 2.65 projected
  circle A17 centre (240, -130) radius 2.65 projected
  circle A18 centre (-240, -150) radius 2.65 projected
  circle A19 centre (-240, -130) radius 2.65 projected
  circle A20 centre (-244.35, -244.35) radius 2.65 projected
  circle A21 centre (244.35, -244.35) radius 2.65 projected
  circle A22 centre (244.35, 244.35) radius 2.65 projected
  circle A23 centre (-244.35, 244.35) radius 2.65 projected
  circle A24 centre (240, 60) radius 2.65 projected
  circle A25 centre (240, 80) radius 2.65 projected
  circle A26 centre (-240, 60) radius 2.65 projected
  circle A27 centre (-240, 80) radius 2.65 projected
  circle A28 centre (-95, 170) radius 2.65 projected
  circle A29 centre (-115, 170) radius 2.65 projected
  circle A30 centre (-240, 150) radius 2.65 projected
  circle A31 centre (-220, 170) radius 2.65 projected
  circle A32 centre (115, 170) radius 2.65 projected
  circle A33 centre (95, 170) radius 2.65 projected
  circle A34 centre (30, 131) radius 2.65 projected
  circle A35 centre (30, 151) radius 2.65 projected
  circle A36 centre (10, 131) radius 2.65 projected
  circle A37 centre (10, 151) radius 2.65 projected
  circle A38 centre (-10, 131) radius 2.65 projected
  circle A39 centre (-10, 151) radius 2.65 projected
  circle A40 centre (-30, 131) radius 2.65 projected
  circle A41 centre (-30, 151) radius 2.65 projected
  circle A42 centre (240, 150) radius 2.65 projected
  circle A43 centre (220, 170) radius 2.65 projected
  circle A44 centre (-220, 240) radius 2.65 projected
  circle A45 centre (-240, 220) radius 2.65 projected
  circle A46 centre (240, 220) radius 2.65 projected
  circle A47 centre (220, 240) radius 2.65 projected
  circle A48 centre (240, -220) radius 2.65 projected
  circle A49 centre (220, -240) radius 2.65 projected
  circle A50 centre (-220, -240) radius 2.65 projected
  circle A51 centre (-240, -220) radius 2.65 projected
  line L0 (254.35, 254.35) -> (-254.35, 254.35) projected
  line L1 (-254.35, 254.35) -> (-254.35, -254.35) projected
  line L2 (-254.35, -254.35) -> (254.35, -254.35) projected
  line L3 (254.35, -254.35) -> (254.35, 254.35) projected
  line L4 (-240, -130) -> (-240, 60) construction
  line L5 (240, -130) -> (240, 60) construction
  line L6 (-240, 25) -> (-240, -95) construction
  line L7 (240, 25) -> (240, -95) construction
  point P0 (0, 0)
  point P1 (240, -35)
  point P2 (-240, -35)
  dimension "d117" = 120
  dimension "d118" = 120
hole "Hole7" at (240, 25, 6.35) at (240, -95, 6.35) at (-240, -95, 6.35) at (-240, 25, 6.35) at (240, -35, 6.35) at (-240, -35, 6.35) direction (0, 0, -1) diameter 5.4 end through all
sketch "Sketch9" plane through (0, 0, 6.35) normal (0, 0, 1) x (1, 0, 0)
  circle A0 centre (-240, -35) radius 2.7 projected
  circle A1 centre (240, -35) radius 2.7 projected
  circle A2 centre (-240, 25) radius 2.7 projected
  circle A3 centre (-240, -95) radius 2.7 projected
  circle A4 centre (240, -95) radius 2.7 projected
  circle A5 centre (240, 25) radius 2.7 projected
  circle A6 centre (240, 100) radius 2.7 projected
  circle A7 centre (240, 130) radius 2.7 projected
  circle A8 centre (240, -200) radius 2.7 projected
  circle A9 centre (240, -170) radius 2.7 projected
  circle A10 centre (-240, -200) radius 2.7 projected
  circle A11 centre (-240, -170) radius 2.7 projected
  circle A12 centre (-240, 100) radius 2.7 projected
  circle A13 centre (-240, 130) radius 2.7 projected
  circle A14 centre (-142.5, 173) radius 2.067 projected
  circle A15 centre (-192.5, 173) radius 2.067 projected
  circle A16 centre (192.5, 173) radius 2.067 projected
  circle A17 centre (142.5, 173) radius 2.067 projected
  circle A18 centre (-41, 83) radius 2.65 projected
  circle A19 centre (-41, 103) radius 2.65 projected
  circle A20 centre (41, 83) radius 2.65 projected
  circle A21 centre (41, 103) radius 2.65 projected
  circle A22 centre (240, -150) radius 2.65 projected
  circle A23 centre (240, -130) radius 2.65 projected
  circle A24 centre (-240, -150) radius 2.65 projected
  circle A25 centre (-240, -130) radius 2.65 projected
  circle A26 centre (-244.35, -244.35) radius 2.65 projected
  circle A27 centre (244.35, -244.35) radius 2.65 projected
  circle A28 centre (244.35, 244.35) radius 2.65 projected
  circle A29 centre (-244.35, 244.35) radius 2.65 projected
  circle A30 centre (240, 60) radius 2.65 projected
  circle A31 centre (240, 80) radius 2.65 projected
  circle A32 centre (-240, 60) radius 2.65 projected
  circle A33 centre (-240, 80) radius 2.65 projected
  circle A34 centre (-95, 170) radius 2.65 projected
  circle A35 centre (-115, 170) radius 2.65 projected
  circle A36 centre (-240, 150) radius 2.65 projected
  circle A37 centre (-220, 170) radius 2.65 projected
  circle A38 centre (115, 170) radius 2.65 projected
  circle A39 centre (95, 170) radius 2.65 projected
  circle A40 centre (30, 131) radius 2.65 projected
  circle A41 centre (30, 151) radius 2.65 projected
  circle A42 centre (10, 131) radius 2.65 projected
  circle A43 centre (10, 151) radius 2.65 projected
  circle A44 centre (-10, 131) radius 2.65 projected
  circle A45 centre (-10, 151) radius 2.65 projected
  circle A46 centre (-30, 131) radius 2.65 projected
  circle A47 centre (-30, 151) radius 2.65 projected
  circle A48 centre (240, 150) radius 2.65 projected
  circle A49 centre (220, 170) radius 2.65 projected
  circle A50 centre (-220, 240) radius 2.65 projected
  circle A51 centre (-240, 220) radius 2.65 projected
  circle A52 centre (240, 220) radius 2.65 projected
  circle A53 centre (220, 240) radius 2.65 projected
  circle A54 centre (240, -220) radius 2.65 projected
  circle A55 centre (220, -240) radius 2.65 projected
  circle A56 centre (-220, -240) radius 2.65 projected
  circle A57 centre (-240, -220) radius 2.65 projected
  line L0 (254.35, 254.35) -> (-254.35, 254.35) projected
  line L1 (-254.35, 254.35) -> (-254.35, -254.35) projected
  line L2 (-254.35, -254.35) -> (254.35, -254.35) projected
  line L3 (254.35, -254.35) -> (254.35, 254.35) projected
  line L4 (-254.35, 254.35) -> (-234.35, 254.35)
  line L5 (-234.35, 254.35) -> (-234.35, 234.35)
  line L6 (-234.35, 234.35) -> (-254.35, 234.35)
  line L7 (-254.35, 234.35) -> (-254.35, 254.35)
  line L8 (254.35, 254.35) -> (234.35, 254.35)
  line L9 (234.35, 254.35) -> (234.35, 234.35)
  line L10 (234.35, 234.35) -> (254.35, 234.35)
  line L11 (254.35, 234.35) -> (254.35, 254.35)
  line L12 (254.35, -254.35) -> (234.35, -254.35)
  line L13 (234.35, -254.35) -> (234.35, -234.35)
  line L14 (234.35, -234.35) -> (254.35, -234.35)
  line L15 (254.35, -234.35) -> (254.35, -254.35)
  line L16 (-254.35, -254.35) -> (-234.35, -254.35)
  line L17 (-234.35, -254.35) -> (-234.35, -234.35)
  line L18 (-234.35, -234.35) -> (-254.35, -234.35)
  line L19 (-254.35, -234.35) -> (-254.35, -254.35)
  line L20 (250, -250) -> (-250, -250)
  line L21 (-250, -250) -> (-250, 250)
  line L22 (-250, 250) -> (250, 250)
  line L23 (250, 250) -> (250, -250)
  line L24 (250, -250) -> (-250, 250) construction
  line L25 (-250, -250) -> (250, 250) construction
  point P0 (0, 0)
  point P1 (-250, -234.35)
  point P2 (-250, 234.35)
  point P3 (234.35, -250)
  point P4 (-234.35, -250)
  point P5 (250, 234.35)
  point P6 (250, -234.35)
  point P7 (-234.35, 250)
  point P8 (234.35, 250)
  dimension "d132" = 20
  dimension "d135" = 10
  dimension "d136" = 10
extrude "Extrusion2" cut sketch "Sketch9" against normal through all contours L9 L22 L5 L0 | L3 L14 L23 L10 | L6 L21 L18 L1 | L2 L17 L20 L13
equation "\"d10\" = d7"
equation "\"d11\" = d6"
equation "\"d12\" = d10"
equation "\"d13\" = d11"
equation "\"d14\" = d12"
equation "\"d15\" = d13"
equation "\"d16\" = d13"
equation "\"d33\" = d59"
equation "\"d100\" = d59"
equation "\"d67\" = d66"
equation "\"d63\" = 0.5 * d65"
properties part number "Printer Base Plate RevI" material "Aluminum 6061"
